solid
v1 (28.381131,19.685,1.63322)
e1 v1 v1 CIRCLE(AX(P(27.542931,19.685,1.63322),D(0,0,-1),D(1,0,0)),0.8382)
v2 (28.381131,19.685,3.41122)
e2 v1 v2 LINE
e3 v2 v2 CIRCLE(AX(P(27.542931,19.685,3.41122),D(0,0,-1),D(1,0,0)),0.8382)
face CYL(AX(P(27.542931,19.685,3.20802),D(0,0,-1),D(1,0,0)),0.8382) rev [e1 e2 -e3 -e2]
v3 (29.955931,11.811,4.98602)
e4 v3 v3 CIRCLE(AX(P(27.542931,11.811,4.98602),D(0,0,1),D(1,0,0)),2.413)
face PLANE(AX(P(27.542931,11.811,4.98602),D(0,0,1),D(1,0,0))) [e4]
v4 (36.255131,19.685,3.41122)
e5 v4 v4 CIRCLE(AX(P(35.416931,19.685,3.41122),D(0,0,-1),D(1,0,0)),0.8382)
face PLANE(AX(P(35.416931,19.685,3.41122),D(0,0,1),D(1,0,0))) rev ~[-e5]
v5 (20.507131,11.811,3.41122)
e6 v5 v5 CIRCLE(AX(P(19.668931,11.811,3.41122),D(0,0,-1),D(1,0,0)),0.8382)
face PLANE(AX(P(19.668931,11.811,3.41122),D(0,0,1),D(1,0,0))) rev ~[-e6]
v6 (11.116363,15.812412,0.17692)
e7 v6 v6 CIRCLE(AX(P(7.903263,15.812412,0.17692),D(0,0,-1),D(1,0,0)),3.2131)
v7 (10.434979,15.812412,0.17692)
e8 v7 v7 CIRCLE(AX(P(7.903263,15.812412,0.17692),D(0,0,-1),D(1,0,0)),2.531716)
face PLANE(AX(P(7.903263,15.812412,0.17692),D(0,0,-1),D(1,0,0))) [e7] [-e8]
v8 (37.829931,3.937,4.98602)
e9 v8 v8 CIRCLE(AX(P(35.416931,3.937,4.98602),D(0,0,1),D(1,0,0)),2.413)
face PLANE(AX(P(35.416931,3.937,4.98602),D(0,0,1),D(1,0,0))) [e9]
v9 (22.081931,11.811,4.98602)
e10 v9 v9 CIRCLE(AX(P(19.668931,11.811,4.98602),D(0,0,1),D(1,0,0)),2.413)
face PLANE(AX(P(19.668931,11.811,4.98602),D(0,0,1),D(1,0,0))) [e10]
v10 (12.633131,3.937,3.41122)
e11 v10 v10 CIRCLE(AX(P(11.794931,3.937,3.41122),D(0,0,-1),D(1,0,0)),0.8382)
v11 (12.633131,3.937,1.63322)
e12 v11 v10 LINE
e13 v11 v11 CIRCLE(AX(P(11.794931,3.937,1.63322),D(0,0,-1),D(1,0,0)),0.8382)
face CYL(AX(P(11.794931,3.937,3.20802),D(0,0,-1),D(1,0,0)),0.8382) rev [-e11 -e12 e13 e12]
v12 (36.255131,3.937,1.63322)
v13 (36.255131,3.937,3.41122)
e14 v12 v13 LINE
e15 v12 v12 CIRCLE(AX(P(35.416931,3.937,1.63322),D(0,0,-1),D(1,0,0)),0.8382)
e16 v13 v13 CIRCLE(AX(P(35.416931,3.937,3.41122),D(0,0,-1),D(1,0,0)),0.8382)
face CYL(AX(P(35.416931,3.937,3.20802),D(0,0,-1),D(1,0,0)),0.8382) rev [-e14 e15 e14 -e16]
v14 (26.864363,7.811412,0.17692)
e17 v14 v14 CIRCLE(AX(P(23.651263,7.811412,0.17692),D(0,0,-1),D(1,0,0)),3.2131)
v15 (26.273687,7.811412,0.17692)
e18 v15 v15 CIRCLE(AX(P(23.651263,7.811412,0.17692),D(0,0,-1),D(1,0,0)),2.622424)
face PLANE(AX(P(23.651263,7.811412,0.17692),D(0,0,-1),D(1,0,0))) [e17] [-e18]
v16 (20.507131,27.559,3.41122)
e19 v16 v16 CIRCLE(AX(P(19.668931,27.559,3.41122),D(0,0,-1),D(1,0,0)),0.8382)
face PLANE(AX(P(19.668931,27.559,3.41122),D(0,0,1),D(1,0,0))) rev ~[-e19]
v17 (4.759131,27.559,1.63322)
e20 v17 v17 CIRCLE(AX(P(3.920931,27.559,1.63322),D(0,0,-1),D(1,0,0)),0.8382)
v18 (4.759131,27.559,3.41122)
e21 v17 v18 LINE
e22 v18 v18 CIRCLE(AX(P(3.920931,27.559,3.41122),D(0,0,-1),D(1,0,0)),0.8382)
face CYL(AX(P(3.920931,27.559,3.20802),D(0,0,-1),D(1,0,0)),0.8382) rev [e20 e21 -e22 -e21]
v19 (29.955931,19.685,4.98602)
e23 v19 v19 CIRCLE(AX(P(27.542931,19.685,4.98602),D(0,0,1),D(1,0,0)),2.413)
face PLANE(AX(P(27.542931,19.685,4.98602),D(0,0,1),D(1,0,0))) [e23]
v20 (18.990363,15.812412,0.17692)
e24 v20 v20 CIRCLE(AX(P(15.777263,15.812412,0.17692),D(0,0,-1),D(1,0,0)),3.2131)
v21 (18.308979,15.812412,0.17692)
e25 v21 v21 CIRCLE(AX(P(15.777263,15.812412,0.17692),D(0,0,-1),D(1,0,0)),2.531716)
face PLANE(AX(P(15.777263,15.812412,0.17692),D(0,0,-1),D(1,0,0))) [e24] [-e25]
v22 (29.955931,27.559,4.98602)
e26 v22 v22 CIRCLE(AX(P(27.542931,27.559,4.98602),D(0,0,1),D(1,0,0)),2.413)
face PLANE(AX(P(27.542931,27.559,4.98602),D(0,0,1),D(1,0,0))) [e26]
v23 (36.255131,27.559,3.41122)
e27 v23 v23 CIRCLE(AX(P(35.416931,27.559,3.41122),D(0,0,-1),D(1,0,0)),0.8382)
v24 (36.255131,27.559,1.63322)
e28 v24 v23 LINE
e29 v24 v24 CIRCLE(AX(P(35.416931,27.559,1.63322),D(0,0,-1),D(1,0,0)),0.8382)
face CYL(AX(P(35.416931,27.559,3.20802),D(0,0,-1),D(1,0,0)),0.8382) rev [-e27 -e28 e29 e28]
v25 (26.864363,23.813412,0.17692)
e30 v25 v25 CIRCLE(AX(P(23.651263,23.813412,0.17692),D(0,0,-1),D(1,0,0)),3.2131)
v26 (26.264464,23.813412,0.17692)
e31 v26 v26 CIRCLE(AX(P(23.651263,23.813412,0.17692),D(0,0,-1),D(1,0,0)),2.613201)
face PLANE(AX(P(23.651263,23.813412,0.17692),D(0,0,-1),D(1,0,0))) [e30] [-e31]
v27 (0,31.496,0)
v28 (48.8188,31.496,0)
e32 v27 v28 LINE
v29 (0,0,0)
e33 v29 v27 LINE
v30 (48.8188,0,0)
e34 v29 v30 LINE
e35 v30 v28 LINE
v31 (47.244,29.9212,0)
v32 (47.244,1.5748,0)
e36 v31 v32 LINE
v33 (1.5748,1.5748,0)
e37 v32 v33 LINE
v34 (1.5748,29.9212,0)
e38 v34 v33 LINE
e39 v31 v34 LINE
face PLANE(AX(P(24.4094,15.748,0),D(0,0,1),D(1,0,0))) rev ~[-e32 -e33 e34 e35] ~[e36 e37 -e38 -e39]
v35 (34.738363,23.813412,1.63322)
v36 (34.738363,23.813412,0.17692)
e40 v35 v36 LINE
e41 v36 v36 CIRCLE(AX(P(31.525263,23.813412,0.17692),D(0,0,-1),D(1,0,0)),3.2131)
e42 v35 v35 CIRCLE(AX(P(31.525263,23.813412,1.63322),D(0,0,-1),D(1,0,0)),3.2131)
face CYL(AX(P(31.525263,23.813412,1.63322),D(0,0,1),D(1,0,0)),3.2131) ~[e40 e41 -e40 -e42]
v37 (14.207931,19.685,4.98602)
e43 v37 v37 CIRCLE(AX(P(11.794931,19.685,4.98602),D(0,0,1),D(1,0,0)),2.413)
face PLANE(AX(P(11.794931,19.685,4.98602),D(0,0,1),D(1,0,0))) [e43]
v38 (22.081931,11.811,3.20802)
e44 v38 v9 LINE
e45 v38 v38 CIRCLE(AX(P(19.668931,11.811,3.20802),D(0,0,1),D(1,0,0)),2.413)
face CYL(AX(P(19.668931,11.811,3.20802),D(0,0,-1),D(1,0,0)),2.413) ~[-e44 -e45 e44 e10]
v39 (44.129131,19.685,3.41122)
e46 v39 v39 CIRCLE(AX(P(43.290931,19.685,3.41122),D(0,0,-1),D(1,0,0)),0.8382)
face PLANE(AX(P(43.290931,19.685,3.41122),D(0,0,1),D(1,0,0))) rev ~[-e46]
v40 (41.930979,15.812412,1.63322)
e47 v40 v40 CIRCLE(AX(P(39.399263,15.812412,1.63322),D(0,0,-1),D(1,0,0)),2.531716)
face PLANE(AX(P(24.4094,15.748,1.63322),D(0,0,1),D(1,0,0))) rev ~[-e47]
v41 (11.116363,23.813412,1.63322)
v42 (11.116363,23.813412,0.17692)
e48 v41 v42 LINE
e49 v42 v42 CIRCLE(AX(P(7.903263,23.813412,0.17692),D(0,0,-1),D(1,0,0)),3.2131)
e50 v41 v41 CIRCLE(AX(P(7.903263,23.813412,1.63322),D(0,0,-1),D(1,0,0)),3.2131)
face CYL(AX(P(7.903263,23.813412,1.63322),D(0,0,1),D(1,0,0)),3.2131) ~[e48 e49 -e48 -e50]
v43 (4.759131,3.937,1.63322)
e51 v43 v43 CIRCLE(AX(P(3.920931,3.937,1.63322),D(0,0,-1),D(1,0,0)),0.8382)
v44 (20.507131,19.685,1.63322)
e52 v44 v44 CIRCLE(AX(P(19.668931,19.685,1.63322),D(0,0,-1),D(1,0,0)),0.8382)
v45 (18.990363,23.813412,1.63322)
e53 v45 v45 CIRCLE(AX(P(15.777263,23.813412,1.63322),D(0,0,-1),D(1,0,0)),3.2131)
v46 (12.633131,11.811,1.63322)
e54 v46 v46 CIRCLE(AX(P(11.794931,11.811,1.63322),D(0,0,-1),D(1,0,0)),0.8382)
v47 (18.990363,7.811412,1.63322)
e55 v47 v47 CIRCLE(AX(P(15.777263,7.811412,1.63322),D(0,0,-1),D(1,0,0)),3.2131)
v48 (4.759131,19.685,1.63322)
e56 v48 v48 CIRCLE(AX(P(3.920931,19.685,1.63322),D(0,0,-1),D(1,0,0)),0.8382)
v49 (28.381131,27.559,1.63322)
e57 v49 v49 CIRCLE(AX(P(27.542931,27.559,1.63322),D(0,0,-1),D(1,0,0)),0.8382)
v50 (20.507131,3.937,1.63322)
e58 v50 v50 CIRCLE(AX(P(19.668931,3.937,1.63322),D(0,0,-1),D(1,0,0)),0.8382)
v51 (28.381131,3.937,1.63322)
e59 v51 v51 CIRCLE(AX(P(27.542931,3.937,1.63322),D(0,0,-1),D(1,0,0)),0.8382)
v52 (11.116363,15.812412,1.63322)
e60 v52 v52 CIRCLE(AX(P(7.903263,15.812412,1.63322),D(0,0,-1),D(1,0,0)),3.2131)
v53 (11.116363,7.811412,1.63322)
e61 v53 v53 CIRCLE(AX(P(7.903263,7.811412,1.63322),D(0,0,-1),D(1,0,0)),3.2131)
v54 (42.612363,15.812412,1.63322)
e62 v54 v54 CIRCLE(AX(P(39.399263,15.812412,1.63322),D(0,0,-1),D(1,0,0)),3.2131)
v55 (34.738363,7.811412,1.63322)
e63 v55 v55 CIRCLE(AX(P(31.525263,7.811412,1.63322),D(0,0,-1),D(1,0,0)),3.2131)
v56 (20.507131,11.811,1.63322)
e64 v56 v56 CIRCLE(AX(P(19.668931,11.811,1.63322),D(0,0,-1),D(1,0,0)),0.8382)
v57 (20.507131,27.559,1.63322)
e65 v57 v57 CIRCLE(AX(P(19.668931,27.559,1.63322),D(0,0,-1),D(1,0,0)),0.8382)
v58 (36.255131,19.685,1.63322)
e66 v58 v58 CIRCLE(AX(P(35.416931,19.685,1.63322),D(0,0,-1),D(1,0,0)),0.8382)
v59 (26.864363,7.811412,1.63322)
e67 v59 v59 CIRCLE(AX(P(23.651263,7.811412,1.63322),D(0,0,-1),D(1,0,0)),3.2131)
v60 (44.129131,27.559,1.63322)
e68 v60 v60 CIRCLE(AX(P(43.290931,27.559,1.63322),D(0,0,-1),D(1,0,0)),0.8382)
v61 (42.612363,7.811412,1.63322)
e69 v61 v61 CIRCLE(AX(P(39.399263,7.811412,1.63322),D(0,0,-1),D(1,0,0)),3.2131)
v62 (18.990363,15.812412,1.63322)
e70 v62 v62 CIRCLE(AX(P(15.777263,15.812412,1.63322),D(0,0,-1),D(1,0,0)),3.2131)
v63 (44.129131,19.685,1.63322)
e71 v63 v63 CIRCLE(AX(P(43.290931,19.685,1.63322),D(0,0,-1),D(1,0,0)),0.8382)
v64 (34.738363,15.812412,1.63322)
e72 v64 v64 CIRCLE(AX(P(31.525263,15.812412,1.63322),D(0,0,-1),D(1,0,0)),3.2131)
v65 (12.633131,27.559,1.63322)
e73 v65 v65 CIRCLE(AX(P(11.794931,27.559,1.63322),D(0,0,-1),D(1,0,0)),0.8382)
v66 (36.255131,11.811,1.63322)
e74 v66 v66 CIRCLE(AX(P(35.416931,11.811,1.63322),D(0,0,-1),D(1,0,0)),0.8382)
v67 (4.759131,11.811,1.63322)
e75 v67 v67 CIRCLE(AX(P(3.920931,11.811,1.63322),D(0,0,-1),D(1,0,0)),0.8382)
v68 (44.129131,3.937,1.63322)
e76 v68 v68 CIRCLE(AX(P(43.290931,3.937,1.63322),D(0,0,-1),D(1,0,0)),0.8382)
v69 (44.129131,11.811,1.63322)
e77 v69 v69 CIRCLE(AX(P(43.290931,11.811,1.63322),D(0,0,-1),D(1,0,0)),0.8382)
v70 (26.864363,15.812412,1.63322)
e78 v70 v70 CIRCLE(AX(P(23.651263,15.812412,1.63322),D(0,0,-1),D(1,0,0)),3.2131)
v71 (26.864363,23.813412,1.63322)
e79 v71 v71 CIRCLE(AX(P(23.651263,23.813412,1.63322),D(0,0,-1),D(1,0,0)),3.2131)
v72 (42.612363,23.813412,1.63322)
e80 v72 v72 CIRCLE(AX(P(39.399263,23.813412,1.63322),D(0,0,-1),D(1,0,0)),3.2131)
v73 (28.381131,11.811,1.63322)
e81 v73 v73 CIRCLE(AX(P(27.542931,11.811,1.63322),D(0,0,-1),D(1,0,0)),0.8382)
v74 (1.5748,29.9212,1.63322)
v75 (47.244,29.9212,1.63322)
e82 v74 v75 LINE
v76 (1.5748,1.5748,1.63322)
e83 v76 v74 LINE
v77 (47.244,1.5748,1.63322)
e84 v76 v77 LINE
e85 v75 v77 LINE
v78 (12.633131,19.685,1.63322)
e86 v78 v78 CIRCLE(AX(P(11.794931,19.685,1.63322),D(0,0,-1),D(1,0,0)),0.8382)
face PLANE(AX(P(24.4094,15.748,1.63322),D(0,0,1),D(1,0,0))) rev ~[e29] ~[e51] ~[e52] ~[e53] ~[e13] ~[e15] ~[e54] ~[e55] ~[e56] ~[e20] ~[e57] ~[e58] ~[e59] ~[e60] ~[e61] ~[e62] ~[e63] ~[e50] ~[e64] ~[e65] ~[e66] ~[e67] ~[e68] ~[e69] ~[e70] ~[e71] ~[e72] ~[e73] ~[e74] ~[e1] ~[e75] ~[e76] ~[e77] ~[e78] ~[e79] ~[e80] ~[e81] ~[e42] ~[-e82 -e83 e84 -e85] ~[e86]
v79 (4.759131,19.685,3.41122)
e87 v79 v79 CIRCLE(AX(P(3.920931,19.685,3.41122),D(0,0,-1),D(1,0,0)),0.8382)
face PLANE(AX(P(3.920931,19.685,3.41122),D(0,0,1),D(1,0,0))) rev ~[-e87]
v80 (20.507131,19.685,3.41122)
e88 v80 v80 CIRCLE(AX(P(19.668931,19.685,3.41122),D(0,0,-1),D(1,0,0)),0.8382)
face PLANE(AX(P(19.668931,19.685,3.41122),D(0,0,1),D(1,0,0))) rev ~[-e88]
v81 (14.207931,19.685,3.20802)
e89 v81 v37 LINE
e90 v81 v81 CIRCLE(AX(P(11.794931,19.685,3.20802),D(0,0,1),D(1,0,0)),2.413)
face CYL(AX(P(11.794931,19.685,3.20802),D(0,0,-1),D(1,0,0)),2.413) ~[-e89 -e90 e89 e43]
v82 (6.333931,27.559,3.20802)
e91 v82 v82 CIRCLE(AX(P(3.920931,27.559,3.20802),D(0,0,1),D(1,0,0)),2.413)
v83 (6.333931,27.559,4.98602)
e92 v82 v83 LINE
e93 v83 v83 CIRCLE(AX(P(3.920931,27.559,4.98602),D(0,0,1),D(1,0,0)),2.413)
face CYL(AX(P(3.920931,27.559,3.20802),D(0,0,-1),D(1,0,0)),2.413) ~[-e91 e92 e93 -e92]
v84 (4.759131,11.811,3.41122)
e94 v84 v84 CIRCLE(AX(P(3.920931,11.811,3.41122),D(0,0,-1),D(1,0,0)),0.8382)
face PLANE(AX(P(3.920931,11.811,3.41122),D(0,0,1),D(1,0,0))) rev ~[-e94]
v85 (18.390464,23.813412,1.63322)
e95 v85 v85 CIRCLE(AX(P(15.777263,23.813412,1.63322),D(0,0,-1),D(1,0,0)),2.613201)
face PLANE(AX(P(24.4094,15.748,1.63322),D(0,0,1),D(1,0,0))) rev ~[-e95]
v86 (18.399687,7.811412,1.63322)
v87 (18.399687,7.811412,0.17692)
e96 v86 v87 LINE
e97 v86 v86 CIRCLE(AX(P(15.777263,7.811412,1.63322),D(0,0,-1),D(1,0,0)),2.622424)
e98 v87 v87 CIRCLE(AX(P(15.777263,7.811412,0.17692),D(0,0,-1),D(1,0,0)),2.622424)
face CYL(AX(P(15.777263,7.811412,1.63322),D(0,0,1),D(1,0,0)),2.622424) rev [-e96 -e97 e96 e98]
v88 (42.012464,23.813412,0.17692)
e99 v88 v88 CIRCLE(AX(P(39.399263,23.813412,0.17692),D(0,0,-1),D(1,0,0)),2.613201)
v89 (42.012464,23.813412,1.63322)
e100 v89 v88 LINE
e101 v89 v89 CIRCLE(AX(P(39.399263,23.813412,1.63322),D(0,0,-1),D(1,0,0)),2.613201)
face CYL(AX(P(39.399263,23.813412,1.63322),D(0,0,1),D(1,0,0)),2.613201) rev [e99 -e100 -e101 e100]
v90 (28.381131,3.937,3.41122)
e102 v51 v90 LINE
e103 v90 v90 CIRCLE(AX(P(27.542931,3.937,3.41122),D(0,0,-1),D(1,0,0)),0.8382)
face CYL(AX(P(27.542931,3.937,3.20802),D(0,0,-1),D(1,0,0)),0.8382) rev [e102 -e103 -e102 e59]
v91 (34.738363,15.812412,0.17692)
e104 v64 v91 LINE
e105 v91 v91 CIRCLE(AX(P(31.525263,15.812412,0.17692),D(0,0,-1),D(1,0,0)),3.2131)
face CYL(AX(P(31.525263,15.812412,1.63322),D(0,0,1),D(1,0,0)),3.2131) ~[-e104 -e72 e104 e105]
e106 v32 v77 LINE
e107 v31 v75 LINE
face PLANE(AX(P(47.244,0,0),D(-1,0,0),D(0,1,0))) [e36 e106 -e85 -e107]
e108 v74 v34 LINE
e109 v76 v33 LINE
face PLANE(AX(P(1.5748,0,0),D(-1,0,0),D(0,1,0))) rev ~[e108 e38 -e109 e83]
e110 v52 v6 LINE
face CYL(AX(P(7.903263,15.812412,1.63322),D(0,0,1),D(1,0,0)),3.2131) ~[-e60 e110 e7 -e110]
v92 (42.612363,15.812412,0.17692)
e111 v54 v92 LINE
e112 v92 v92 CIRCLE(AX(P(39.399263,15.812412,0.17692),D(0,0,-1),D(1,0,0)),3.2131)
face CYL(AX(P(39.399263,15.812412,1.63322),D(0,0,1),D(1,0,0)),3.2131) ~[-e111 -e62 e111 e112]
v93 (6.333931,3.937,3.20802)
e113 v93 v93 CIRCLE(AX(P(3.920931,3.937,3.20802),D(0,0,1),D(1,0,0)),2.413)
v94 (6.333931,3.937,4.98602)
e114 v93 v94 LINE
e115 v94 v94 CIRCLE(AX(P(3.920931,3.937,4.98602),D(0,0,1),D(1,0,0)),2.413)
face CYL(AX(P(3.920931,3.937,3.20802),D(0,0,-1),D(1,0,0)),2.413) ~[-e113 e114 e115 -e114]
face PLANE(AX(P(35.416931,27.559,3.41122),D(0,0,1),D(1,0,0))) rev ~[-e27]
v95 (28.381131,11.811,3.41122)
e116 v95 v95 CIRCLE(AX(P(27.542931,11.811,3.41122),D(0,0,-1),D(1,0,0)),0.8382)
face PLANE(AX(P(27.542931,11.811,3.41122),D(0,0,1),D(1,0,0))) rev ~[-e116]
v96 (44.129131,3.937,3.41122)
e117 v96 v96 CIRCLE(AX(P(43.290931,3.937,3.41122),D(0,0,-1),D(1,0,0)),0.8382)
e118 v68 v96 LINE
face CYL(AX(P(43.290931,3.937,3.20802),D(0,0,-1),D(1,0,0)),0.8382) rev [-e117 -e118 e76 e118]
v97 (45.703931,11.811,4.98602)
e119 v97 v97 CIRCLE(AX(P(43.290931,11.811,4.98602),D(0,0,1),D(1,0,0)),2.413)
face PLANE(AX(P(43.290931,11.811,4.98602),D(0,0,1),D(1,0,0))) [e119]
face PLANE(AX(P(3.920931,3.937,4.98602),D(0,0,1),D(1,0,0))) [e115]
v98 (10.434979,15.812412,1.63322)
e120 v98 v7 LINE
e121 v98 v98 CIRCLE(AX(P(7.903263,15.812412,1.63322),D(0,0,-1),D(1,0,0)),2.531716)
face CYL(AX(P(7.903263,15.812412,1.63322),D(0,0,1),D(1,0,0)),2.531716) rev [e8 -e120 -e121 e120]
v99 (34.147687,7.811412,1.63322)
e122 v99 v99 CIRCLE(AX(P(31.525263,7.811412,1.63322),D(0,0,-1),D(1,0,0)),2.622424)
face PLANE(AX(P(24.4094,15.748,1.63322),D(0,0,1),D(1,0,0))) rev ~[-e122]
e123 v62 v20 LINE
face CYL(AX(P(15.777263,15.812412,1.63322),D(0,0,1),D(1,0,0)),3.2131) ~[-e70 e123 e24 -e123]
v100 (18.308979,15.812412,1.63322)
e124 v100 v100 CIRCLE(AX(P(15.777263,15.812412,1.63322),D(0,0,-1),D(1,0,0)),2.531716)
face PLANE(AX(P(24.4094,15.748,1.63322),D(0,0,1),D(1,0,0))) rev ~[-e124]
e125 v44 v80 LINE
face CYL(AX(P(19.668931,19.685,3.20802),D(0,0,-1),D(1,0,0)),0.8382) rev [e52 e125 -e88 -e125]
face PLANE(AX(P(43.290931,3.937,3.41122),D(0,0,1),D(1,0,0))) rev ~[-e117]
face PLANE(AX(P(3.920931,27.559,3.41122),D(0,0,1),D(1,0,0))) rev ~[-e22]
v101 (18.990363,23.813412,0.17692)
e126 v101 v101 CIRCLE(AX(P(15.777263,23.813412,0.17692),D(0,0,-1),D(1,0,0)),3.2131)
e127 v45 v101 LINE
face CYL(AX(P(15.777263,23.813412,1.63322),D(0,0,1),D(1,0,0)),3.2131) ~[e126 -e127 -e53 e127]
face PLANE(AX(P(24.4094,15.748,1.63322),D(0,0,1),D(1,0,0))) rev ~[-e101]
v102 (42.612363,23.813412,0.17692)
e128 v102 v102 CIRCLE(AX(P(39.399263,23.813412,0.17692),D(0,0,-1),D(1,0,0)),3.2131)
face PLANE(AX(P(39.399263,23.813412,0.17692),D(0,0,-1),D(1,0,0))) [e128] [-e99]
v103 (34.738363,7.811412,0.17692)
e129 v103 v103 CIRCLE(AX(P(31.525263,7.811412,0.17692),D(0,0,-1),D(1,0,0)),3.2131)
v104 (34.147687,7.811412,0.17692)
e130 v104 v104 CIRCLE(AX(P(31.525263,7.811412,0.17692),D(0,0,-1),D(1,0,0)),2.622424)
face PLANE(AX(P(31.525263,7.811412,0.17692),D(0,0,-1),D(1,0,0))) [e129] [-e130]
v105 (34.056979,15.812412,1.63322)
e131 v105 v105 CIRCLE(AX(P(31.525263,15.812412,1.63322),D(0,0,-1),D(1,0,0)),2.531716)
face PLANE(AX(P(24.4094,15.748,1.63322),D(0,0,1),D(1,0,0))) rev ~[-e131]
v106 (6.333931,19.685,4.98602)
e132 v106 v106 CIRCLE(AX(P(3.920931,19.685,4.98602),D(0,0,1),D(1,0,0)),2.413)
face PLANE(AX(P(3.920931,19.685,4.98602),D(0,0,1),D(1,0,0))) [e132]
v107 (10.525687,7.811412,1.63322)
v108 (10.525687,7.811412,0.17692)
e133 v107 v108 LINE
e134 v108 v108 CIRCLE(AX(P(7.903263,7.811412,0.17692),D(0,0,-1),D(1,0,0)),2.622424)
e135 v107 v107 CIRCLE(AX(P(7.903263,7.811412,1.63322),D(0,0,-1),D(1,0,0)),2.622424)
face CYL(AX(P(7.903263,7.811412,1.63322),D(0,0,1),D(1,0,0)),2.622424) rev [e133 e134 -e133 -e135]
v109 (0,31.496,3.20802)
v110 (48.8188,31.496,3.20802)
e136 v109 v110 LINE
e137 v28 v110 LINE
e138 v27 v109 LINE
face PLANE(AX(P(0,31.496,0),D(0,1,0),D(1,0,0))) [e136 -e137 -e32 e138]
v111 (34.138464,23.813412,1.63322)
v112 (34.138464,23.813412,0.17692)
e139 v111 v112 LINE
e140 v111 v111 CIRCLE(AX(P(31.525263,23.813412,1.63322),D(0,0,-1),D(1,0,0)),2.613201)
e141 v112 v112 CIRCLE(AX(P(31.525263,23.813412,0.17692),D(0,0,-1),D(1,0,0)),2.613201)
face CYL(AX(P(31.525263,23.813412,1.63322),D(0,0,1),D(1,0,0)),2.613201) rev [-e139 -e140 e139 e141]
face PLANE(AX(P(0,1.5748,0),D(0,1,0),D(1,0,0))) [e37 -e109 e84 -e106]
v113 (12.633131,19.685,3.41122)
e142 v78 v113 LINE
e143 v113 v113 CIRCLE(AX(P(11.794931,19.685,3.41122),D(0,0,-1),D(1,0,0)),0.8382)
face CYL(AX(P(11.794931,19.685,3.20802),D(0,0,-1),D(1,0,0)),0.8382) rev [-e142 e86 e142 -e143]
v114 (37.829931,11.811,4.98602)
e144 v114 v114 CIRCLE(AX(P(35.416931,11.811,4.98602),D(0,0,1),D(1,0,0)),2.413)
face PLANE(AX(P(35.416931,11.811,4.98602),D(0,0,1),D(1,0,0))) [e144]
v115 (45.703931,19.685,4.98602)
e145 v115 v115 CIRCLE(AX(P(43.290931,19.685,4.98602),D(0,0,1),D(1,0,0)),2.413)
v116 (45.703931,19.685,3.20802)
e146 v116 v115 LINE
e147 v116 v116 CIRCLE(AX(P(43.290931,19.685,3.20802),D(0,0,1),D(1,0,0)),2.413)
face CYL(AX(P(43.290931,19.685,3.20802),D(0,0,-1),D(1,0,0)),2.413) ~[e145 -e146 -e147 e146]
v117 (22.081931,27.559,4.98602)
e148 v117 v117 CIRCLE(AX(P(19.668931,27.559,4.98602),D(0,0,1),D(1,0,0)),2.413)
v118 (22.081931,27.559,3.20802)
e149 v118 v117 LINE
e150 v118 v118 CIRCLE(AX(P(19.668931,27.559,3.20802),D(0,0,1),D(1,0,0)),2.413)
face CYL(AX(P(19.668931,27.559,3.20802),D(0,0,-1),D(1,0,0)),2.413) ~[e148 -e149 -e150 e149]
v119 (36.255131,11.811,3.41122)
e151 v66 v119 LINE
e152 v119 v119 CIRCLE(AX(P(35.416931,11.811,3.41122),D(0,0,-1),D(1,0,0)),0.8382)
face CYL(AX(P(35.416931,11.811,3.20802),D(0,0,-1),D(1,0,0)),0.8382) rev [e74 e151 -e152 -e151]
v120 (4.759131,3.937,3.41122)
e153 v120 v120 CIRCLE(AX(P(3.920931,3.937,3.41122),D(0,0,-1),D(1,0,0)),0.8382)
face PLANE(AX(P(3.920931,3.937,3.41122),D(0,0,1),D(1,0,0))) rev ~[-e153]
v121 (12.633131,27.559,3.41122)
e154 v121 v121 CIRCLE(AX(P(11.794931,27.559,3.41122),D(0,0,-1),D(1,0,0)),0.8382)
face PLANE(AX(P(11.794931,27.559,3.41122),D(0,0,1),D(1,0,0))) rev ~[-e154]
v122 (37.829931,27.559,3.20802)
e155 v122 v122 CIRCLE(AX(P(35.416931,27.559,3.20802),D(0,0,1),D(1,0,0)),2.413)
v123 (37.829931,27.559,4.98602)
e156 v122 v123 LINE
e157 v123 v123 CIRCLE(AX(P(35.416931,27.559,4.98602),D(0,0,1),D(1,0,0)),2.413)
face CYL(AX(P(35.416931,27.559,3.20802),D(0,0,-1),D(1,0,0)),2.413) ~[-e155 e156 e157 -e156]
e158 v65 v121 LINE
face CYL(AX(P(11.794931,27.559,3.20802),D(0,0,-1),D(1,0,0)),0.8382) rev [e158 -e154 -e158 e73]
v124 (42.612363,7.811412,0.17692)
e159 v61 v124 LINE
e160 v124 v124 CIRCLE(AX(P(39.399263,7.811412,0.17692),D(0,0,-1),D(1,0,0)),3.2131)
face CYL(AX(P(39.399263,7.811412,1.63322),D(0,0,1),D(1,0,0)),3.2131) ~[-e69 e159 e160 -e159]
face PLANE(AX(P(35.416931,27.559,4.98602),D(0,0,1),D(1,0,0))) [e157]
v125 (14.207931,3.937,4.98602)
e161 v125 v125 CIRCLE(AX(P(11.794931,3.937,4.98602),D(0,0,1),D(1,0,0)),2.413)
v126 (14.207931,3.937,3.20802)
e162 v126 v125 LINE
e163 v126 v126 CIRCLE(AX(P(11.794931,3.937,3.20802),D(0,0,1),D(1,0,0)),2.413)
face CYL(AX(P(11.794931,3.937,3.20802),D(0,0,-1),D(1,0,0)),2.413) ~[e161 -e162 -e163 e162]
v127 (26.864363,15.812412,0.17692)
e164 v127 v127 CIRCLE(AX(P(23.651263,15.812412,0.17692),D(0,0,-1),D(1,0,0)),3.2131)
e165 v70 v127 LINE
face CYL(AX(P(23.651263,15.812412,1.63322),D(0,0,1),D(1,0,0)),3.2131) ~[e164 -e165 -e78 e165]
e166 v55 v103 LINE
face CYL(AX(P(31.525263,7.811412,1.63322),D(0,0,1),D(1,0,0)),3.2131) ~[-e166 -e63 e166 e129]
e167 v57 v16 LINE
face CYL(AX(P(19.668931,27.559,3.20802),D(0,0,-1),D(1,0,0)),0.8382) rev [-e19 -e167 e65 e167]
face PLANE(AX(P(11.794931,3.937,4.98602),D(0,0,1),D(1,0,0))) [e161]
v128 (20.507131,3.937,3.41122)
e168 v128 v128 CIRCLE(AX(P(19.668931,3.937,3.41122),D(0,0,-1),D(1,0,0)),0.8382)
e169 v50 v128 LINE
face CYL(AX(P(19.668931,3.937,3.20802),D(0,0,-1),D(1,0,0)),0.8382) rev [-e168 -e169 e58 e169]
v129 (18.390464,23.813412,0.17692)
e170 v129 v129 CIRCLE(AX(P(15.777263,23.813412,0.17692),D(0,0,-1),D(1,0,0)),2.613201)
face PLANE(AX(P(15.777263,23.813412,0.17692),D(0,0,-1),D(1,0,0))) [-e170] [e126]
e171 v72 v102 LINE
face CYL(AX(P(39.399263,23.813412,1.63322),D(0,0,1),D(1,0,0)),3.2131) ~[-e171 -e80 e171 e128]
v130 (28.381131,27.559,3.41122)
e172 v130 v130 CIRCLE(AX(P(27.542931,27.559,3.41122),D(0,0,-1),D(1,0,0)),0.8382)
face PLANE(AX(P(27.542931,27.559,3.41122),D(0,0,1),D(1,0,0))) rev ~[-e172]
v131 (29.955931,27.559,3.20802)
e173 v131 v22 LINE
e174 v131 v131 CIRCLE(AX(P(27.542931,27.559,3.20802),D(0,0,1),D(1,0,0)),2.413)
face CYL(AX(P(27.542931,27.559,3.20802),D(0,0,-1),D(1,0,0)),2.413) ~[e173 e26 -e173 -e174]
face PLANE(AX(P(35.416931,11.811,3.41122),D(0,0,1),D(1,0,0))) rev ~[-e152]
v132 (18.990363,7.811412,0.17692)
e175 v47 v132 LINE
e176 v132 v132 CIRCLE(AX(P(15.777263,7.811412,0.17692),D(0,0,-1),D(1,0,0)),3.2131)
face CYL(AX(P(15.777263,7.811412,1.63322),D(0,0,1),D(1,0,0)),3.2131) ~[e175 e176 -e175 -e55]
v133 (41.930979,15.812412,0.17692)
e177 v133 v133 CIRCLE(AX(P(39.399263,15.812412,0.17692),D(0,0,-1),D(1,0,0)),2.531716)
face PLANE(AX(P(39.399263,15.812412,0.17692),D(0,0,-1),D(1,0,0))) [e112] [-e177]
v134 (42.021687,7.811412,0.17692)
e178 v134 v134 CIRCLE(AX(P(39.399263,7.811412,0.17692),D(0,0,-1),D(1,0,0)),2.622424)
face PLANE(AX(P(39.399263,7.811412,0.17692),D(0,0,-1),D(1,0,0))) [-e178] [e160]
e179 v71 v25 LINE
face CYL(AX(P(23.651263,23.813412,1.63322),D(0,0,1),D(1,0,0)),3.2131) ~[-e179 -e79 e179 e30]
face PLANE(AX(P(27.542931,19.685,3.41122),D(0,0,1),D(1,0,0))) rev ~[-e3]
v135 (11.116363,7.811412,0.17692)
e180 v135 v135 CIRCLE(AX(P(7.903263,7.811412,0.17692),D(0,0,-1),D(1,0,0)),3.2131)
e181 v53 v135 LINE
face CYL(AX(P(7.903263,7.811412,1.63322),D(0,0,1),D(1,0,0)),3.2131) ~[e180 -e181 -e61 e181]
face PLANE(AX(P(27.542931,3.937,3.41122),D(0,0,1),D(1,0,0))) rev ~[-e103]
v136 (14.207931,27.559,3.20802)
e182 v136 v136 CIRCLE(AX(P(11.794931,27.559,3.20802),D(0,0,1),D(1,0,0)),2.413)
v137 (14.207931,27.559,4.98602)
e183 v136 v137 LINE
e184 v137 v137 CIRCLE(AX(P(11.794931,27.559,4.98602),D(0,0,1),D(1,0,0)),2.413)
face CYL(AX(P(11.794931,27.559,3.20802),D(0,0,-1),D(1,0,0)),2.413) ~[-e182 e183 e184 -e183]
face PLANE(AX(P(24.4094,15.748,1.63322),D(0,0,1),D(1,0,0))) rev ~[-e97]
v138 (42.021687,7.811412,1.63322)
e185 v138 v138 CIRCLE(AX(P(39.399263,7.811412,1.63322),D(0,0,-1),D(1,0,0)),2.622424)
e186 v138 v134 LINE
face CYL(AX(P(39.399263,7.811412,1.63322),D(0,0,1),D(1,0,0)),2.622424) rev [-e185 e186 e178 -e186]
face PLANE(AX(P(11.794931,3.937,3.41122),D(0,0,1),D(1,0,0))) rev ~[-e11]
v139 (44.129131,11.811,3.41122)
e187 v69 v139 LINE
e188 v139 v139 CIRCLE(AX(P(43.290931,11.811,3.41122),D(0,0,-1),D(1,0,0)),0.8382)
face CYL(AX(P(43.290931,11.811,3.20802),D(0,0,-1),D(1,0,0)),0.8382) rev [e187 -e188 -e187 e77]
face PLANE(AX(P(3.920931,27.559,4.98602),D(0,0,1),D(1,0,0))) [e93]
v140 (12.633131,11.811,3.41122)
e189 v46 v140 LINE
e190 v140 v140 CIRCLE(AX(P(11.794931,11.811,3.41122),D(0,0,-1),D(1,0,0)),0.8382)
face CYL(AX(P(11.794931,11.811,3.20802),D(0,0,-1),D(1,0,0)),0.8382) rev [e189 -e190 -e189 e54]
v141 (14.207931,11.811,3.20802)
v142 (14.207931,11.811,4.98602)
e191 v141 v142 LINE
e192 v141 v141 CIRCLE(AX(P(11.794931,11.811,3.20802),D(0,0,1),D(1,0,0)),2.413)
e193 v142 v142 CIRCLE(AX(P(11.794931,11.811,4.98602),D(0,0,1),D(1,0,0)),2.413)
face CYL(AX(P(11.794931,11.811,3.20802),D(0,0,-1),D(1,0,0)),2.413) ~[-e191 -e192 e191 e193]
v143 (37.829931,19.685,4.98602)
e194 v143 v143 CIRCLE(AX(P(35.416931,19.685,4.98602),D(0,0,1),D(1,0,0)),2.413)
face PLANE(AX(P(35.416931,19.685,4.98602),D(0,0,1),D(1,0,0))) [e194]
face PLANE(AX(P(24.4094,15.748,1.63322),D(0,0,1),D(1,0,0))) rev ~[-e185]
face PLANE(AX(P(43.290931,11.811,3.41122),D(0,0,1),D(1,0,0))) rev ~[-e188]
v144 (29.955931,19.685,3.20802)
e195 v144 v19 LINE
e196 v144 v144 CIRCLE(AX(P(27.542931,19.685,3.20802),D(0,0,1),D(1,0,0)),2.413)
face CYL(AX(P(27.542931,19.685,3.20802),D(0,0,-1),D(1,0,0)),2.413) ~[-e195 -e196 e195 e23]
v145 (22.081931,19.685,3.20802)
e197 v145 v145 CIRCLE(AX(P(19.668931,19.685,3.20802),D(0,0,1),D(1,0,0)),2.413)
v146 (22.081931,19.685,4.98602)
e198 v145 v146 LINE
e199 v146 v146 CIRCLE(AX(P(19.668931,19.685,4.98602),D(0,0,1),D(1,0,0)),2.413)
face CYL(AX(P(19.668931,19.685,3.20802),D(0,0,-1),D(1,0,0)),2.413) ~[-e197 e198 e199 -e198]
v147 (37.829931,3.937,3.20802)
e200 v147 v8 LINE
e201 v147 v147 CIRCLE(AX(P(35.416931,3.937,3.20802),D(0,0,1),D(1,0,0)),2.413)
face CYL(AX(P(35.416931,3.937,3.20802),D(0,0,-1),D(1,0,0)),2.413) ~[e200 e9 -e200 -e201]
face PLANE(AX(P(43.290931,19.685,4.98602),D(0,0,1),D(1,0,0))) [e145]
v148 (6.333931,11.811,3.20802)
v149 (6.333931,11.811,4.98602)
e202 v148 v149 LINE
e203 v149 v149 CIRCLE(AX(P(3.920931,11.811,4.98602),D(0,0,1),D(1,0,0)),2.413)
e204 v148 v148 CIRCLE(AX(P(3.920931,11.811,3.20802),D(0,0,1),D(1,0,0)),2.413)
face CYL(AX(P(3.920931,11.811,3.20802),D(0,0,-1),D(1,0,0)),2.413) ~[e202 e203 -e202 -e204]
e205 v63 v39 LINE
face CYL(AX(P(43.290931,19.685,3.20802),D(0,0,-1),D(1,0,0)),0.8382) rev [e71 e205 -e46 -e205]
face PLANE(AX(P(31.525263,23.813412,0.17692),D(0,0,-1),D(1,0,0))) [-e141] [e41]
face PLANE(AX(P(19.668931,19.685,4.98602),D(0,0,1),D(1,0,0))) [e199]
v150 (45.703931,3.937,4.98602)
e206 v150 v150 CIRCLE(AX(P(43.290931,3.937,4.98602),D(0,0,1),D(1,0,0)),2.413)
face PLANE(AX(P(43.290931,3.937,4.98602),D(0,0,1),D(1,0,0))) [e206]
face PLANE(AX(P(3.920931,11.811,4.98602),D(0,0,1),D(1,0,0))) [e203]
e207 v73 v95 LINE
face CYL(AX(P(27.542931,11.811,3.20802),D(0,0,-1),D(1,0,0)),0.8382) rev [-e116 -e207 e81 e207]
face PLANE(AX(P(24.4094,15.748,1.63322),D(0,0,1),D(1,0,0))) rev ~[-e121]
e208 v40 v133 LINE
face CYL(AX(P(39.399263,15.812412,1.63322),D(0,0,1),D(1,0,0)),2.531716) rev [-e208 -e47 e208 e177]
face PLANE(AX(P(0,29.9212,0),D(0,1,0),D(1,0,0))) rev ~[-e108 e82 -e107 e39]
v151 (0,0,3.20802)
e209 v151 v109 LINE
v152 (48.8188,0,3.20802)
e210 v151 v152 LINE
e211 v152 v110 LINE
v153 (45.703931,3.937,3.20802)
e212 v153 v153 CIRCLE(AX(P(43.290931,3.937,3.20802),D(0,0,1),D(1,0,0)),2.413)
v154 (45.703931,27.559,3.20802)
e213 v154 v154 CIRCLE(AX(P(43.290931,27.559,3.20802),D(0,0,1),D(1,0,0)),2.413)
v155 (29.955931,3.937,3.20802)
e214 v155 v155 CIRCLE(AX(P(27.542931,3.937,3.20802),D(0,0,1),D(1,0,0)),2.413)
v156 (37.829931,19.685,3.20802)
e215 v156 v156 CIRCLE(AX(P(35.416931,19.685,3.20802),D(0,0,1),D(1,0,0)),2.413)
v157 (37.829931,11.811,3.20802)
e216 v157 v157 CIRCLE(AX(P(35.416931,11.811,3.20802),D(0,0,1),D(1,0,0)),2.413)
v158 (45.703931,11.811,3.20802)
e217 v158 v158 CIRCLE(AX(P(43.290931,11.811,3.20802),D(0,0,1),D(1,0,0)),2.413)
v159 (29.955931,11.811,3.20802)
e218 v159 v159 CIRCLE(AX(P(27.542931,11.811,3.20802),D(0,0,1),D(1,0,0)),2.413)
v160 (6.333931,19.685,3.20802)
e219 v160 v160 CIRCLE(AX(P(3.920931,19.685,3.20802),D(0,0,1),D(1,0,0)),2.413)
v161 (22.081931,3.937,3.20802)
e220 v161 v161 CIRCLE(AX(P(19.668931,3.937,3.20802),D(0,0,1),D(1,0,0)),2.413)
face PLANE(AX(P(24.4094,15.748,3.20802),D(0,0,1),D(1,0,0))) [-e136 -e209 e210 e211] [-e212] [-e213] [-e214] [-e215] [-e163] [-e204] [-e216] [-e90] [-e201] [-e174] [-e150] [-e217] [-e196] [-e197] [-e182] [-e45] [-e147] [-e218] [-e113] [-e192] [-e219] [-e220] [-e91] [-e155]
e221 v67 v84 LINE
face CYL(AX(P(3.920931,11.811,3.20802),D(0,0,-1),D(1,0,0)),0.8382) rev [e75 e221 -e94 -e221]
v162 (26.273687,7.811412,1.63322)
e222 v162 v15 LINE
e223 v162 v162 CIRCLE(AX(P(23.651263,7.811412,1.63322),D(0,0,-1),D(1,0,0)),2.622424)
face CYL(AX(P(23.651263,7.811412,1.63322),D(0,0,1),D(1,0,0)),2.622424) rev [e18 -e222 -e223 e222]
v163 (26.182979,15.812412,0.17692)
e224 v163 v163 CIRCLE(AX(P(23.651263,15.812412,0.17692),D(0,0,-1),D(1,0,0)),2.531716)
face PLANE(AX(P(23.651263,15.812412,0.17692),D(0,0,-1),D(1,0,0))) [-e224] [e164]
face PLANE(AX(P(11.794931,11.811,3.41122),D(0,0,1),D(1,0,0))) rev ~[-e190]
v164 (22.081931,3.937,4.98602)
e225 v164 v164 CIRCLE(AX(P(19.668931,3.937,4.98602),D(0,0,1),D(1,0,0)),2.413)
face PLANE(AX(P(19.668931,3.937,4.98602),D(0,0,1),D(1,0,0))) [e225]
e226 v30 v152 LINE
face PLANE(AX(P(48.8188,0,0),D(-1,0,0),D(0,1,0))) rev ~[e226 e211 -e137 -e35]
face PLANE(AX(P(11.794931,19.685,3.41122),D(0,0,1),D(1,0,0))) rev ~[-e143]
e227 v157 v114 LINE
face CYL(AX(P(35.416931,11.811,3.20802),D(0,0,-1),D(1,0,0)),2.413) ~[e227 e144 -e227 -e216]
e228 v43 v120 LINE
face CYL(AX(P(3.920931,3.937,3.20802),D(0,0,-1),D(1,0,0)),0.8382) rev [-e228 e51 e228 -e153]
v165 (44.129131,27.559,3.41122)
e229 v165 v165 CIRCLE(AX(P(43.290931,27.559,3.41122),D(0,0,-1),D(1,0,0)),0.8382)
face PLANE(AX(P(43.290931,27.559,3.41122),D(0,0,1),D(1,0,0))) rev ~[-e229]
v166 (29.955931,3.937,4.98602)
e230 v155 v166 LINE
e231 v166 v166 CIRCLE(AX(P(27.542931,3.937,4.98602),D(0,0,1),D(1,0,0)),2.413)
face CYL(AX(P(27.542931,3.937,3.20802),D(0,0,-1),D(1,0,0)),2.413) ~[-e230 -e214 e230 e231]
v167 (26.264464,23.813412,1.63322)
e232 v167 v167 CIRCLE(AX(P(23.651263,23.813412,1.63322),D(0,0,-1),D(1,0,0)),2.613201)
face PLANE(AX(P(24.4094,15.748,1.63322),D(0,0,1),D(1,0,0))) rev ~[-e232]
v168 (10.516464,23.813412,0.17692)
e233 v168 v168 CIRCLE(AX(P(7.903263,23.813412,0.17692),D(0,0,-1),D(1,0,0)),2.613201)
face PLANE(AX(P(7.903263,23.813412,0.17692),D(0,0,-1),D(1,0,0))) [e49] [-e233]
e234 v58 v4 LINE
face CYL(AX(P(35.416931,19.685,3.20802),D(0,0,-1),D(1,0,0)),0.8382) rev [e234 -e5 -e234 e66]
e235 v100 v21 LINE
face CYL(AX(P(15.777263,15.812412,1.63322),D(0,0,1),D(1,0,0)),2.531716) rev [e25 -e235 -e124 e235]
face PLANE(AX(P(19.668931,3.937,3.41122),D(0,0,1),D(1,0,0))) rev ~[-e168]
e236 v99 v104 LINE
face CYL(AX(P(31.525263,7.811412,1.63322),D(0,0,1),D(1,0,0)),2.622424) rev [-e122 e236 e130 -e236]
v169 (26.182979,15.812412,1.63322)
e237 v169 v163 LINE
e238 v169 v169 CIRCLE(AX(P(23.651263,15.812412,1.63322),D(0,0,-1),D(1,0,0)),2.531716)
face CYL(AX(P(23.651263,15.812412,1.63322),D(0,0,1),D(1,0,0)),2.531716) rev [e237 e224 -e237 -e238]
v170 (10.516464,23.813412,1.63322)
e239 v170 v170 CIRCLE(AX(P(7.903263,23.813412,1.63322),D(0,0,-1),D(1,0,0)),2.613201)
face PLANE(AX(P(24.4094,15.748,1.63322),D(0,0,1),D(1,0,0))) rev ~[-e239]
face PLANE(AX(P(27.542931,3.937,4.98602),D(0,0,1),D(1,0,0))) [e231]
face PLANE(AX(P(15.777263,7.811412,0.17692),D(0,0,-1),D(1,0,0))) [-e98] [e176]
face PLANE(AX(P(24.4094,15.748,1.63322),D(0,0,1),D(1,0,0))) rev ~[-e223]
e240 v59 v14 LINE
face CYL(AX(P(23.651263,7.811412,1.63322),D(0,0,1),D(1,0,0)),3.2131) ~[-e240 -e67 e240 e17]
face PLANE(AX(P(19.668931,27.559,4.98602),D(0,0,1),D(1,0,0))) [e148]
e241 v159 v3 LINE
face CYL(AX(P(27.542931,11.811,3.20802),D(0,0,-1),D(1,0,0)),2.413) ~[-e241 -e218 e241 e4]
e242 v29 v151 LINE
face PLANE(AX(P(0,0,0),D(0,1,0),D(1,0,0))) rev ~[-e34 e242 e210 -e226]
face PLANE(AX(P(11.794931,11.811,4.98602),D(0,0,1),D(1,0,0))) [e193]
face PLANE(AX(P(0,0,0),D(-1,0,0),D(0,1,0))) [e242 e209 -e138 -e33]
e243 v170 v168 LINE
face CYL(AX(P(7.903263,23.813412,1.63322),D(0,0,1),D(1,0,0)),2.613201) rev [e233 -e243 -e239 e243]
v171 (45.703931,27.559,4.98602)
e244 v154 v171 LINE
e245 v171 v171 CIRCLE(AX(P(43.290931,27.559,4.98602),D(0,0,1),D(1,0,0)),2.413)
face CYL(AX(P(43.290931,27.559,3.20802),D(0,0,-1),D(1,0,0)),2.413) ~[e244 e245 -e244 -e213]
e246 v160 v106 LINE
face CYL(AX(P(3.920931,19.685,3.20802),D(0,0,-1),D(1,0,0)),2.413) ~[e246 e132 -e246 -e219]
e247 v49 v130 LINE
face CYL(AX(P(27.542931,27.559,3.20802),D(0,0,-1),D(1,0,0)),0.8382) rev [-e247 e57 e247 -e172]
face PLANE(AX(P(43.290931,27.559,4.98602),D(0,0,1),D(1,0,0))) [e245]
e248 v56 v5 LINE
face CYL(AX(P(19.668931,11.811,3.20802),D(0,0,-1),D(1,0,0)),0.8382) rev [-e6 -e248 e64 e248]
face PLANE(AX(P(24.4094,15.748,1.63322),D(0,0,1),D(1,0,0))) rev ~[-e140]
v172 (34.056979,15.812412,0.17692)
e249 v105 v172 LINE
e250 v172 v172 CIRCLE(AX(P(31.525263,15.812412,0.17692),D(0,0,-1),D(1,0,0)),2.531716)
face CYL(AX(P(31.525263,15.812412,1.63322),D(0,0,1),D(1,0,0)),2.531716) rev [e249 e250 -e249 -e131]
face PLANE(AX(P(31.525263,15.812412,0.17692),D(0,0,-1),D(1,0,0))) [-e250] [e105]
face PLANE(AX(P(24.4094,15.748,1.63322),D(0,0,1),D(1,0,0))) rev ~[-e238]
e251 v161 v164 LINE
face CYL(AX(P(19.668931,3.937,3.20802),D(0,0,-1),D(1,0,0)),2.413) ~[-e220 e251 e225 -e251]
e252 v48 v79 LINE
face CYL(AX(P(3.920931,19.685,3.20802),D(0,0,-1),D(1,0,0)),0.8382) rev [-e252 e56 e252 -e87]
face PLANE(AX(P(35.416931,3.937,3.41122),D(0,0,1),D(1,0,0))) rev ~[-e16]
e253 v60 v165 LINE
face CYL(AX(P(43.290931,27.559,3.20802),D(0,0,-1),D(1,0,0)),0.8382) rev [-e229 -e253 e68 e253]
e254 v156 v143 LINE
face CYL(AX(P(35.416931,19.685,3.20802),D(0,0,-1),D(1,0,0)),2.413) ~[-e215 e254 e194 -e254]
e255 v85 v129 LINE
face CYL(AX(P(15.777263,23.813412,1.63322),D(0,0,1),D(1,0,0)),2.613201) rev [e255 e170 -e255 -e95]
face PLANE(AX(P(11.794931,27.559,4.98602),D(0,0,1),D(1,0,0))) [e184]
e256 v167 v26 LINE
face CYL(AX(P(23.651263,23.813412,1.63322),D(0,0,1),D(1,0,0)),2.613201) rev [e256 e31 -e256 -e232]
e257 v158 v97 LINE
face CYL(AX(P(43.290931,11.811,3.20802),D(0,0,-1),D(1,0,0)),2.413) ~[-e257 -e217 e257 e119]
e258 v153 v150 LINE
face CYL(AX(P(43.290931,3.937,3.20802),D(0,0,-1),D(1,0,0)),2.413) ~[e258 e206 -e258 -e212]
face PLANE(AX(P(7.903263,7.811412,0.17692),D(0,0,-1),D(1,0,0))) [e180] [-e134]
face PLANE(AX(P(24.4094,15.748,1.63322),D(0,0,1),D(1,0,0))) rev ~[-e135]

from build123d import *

# Parameters (mm, degrees)
F0_W      = 48.8188
F0_H      = 31.496
F1_DEPTH  = 3.20802
F2_R      = 2.413
F3_DEPTH  = 1.778
F4_DEPTH  = 1.778
F5_DEPTH  = 1.778
F6_DEPTH  = 1.778
F7_DEPTH  = 1.778
F8_DEPTH  = 1.778
F9_T      = -1.5748
F10_R     = 3.2131
F10_R_2   = 2.6224244876
F10_R_3   = 2.5317158825
F10_R_4   = 2.613200879
F11_DEPTH = 1.4563


with BuildPart() as f1:
    # F0 (on Top) → F1 (new body)
    with BuildSketch(Plane.XY):
        with Locations((24.4094, 15.748)):
            Rectangle(F0_W, F0_H)
    extrude(amount=F1_DEPTH)

    # F2 (on face) → F3 (join)
    with BuildSketch(Plane.XY.offset(3.20802)):
        with Locations((3.9209306593, 27.559)):
            Circle(F2_R)
    extrude(amount=F3_DEPTH)

    # F2 (on face) → F4 (join)
    with BuildSketch(Plane.XY.offset(3.20802)):
        with Locations((11.7949306593, 27.559)):
            Circle(F2_R)
    extrude(amount=F4_DEPTH)

    # F2 (on face) → F5 (join)
    with BuildSketch(Plane.XY.offset(3.20802)):
        with Locations((19.6689306593, 27.559)):
            Circle(F2_R)
    extrude(amount=F5_DEPTH)

    # F2 (on face) → F6 (join)
    with BuildSketch(Plane.XY.offset(3.20802)):
        with Locations((27.5429306593, 27.559)):
            Circle(F2_R)
    extrude(amount=F6_DEPTH)

    # F2 (on face) → F7 (join)
    with BuildSketch(Plane.XY.offset(3.20802)):
        with Locations((35.4169306593, 27.559)):
            Circle(F2_R)
    extrude(amount=F7_DEPTH)

    # F2 (on face) → F8 (join)
    with BuildSketch(Plane.XY.offset(3.20802)):
        with Locations((43.2909306593, 27.559)):
            Circle(F2_R)
        with Locations((3.9209306593, 19.685)):
            Circle(F2_R)
        with Locations((11.7949306593, 19.685)):
            Circle(F2_R)
        with Locations((19.6689306593, 19.685)):
            Circle(F2_R)
        with Locations((27.5429306593, 19.685)):
            Circle(F2_R)
        with Locations((35.4169306593, 19.685)):
            Circle(F2_R)
        with Locations((43.2909306593, 19.685)):
            Circle(F2_R)
        with Locations((43.2909306593, 11.811)):
            Circle(F2_R)
        with Locations((35.4169306593, 11.811)):
            Circle(F2_R)
        with Locations((27.5429306593, 11.811)):
            Circle(F2_R)
        with Locations((19.6689306593, 11.811)):
            Circle(F2_R)
        with Locations((11.7949306593, 11.811)):
            Circle(F2_R)
        with Locations((3.9209306593, 11.811)):
            Circle(F2_R)
        with Locations((3.9209306593, 3.937)):
            Circle(F2_R)
        with Locations((11.7949306593, 3.937)):
            Circle(F2_R)
        with Locations((19.6689306593, 3.937)):
            Circle(F2_R)
        with Locations((27.5429306593, 3.937)):
            Circle(F2_R)
        with Locations((35.4169306593, 3.937)):
            Circle(F2_R)
        with Locations((43.2909306593, 3.937)):
            Circle(F2_R)
    extrude(amount=F8_DEPTH)

    # F9
    f9_openings = [f1.faces().sort_by_distance(p)[0] for p in [
        (24.4094, 15.748, 0),
    ]]
    offset(amount=F9_T, openings=f9_openings, kind=Kind.INTERSECTION)

    # F10 (on face) → F11 (join)
    with BuildSketch(Plane(origin=(0, 0, 1.63322), x_dir=(1, 0, 0), z_dir=(0, 0, -1))):
        with Locations((15.7772629731, -7.8114119043)):
            Circle(F10_R)
        with Locations((15.7772629731, -7.8114119043)):
            Circle(F10_R_2, mode=Mode.SUBTRACT)
        with Locations((7.9032629731, -7.8114119043)):
            Circle(F10_R)
        with Locations((7.9032629731, -7.8114119043)):
            Circle(F10_R_2, mode=Mode.SUBTRACT)
        with Locations((23.6512629731, -7.8114119043)):
            Circle(F10_R)
        with Locations((23.6512629731, -7.8114119043)):
            Circle(F10_R_2, mode=Mode.SUBTRACT)
        with Locations((31.5252629731, -7.8114119043)):
            Circle(F10_R)
        with Locations((31.5252629731, -7.8114119043)):
            Circle(F10_R_2, mode=Mode.SUBTRACT)
        with Locations((39.3992629731, -7.8114119043)):
            Circle(F10_R)
        with Locations((39.3992629731, -7.8114119043)):
            Circle(F10_R_2, mode=Mode.SUBTRACT)
        with Locations((39.3992629731, -15.8124119043)):
            Circle(F10_R)
        with Locations((39.3992629731, -15.8124119043)):
            Circle(F10_R_3, mode=Mode.SUBTRACT)
        with Locations((31.5252629731, -15.8124119043)):
            Circle(F10_R)
        with Locations((31.5252629731, -15.8124119043)):
            Circle(F10_R_3, mode=Mode.SUBTRACT)
        with Locations((23.6512629731, -15.8124119043)):
            Circle(F10_R)
        with Locations((23.6512629731, -15.8124119043)):
            Circle(F10_R_3, mode=Mode.SUBTRACT)
        with Locations((15.7772629731, -15.8124119043)):
            Circle(F10_R)
        with Locations((15.7772629731, -15.8124119043)):
            Circle(F10_R_3, mode=Mode.SUBTRACT)
        with Locations((7.9032629731, -15.8124119043)):
            Circle(F10_R)
        with Locations((7.9032629731, -15.8124119043)):
            Circle(F10_R_3, mode=Mode.SUBTRACT)
        with Locations((7.9032629731, -23.8134119043)):
            Circle(F10_R)
        with Locations((7.9032629731, -23.8134119043)):
            Circle(F10_R_4, mode=Mode.SUBTRACT)
        with Locations((15.7772629731, -23.8134119043)):
            Circle(F10_R)
        with Locations((15.7772629731, -23.8134119043)):
            Circle(F10_R_4, mode=Mode.SUBTRACT)
        with Locations((23.6512629731, -23.8134119043)):
            Circle(F10_R)
        with Locations((23.6512629731, -23.8134119043)):
            Circle(F10_R_4, mode=Mode.SUBTRACT)
        with Locations((31.5252629731, -23.8134119043)):
            Circle(F10_R)
        with Locations((31.5252629731, -23.8134119043)):
            Circle(F10_R_4, mode=Mode.SUBTRACT)
        with Locations((39.3992629731, -23.8134119043)):
            Circle(F10_R)
        with Locations((39.3992629731, -23.8134119043)):
            Circle(F10_R_4, mode=Mode.SUBTRACT)
    extrude(amount=F11_DEPTH)


solid = f1.part
